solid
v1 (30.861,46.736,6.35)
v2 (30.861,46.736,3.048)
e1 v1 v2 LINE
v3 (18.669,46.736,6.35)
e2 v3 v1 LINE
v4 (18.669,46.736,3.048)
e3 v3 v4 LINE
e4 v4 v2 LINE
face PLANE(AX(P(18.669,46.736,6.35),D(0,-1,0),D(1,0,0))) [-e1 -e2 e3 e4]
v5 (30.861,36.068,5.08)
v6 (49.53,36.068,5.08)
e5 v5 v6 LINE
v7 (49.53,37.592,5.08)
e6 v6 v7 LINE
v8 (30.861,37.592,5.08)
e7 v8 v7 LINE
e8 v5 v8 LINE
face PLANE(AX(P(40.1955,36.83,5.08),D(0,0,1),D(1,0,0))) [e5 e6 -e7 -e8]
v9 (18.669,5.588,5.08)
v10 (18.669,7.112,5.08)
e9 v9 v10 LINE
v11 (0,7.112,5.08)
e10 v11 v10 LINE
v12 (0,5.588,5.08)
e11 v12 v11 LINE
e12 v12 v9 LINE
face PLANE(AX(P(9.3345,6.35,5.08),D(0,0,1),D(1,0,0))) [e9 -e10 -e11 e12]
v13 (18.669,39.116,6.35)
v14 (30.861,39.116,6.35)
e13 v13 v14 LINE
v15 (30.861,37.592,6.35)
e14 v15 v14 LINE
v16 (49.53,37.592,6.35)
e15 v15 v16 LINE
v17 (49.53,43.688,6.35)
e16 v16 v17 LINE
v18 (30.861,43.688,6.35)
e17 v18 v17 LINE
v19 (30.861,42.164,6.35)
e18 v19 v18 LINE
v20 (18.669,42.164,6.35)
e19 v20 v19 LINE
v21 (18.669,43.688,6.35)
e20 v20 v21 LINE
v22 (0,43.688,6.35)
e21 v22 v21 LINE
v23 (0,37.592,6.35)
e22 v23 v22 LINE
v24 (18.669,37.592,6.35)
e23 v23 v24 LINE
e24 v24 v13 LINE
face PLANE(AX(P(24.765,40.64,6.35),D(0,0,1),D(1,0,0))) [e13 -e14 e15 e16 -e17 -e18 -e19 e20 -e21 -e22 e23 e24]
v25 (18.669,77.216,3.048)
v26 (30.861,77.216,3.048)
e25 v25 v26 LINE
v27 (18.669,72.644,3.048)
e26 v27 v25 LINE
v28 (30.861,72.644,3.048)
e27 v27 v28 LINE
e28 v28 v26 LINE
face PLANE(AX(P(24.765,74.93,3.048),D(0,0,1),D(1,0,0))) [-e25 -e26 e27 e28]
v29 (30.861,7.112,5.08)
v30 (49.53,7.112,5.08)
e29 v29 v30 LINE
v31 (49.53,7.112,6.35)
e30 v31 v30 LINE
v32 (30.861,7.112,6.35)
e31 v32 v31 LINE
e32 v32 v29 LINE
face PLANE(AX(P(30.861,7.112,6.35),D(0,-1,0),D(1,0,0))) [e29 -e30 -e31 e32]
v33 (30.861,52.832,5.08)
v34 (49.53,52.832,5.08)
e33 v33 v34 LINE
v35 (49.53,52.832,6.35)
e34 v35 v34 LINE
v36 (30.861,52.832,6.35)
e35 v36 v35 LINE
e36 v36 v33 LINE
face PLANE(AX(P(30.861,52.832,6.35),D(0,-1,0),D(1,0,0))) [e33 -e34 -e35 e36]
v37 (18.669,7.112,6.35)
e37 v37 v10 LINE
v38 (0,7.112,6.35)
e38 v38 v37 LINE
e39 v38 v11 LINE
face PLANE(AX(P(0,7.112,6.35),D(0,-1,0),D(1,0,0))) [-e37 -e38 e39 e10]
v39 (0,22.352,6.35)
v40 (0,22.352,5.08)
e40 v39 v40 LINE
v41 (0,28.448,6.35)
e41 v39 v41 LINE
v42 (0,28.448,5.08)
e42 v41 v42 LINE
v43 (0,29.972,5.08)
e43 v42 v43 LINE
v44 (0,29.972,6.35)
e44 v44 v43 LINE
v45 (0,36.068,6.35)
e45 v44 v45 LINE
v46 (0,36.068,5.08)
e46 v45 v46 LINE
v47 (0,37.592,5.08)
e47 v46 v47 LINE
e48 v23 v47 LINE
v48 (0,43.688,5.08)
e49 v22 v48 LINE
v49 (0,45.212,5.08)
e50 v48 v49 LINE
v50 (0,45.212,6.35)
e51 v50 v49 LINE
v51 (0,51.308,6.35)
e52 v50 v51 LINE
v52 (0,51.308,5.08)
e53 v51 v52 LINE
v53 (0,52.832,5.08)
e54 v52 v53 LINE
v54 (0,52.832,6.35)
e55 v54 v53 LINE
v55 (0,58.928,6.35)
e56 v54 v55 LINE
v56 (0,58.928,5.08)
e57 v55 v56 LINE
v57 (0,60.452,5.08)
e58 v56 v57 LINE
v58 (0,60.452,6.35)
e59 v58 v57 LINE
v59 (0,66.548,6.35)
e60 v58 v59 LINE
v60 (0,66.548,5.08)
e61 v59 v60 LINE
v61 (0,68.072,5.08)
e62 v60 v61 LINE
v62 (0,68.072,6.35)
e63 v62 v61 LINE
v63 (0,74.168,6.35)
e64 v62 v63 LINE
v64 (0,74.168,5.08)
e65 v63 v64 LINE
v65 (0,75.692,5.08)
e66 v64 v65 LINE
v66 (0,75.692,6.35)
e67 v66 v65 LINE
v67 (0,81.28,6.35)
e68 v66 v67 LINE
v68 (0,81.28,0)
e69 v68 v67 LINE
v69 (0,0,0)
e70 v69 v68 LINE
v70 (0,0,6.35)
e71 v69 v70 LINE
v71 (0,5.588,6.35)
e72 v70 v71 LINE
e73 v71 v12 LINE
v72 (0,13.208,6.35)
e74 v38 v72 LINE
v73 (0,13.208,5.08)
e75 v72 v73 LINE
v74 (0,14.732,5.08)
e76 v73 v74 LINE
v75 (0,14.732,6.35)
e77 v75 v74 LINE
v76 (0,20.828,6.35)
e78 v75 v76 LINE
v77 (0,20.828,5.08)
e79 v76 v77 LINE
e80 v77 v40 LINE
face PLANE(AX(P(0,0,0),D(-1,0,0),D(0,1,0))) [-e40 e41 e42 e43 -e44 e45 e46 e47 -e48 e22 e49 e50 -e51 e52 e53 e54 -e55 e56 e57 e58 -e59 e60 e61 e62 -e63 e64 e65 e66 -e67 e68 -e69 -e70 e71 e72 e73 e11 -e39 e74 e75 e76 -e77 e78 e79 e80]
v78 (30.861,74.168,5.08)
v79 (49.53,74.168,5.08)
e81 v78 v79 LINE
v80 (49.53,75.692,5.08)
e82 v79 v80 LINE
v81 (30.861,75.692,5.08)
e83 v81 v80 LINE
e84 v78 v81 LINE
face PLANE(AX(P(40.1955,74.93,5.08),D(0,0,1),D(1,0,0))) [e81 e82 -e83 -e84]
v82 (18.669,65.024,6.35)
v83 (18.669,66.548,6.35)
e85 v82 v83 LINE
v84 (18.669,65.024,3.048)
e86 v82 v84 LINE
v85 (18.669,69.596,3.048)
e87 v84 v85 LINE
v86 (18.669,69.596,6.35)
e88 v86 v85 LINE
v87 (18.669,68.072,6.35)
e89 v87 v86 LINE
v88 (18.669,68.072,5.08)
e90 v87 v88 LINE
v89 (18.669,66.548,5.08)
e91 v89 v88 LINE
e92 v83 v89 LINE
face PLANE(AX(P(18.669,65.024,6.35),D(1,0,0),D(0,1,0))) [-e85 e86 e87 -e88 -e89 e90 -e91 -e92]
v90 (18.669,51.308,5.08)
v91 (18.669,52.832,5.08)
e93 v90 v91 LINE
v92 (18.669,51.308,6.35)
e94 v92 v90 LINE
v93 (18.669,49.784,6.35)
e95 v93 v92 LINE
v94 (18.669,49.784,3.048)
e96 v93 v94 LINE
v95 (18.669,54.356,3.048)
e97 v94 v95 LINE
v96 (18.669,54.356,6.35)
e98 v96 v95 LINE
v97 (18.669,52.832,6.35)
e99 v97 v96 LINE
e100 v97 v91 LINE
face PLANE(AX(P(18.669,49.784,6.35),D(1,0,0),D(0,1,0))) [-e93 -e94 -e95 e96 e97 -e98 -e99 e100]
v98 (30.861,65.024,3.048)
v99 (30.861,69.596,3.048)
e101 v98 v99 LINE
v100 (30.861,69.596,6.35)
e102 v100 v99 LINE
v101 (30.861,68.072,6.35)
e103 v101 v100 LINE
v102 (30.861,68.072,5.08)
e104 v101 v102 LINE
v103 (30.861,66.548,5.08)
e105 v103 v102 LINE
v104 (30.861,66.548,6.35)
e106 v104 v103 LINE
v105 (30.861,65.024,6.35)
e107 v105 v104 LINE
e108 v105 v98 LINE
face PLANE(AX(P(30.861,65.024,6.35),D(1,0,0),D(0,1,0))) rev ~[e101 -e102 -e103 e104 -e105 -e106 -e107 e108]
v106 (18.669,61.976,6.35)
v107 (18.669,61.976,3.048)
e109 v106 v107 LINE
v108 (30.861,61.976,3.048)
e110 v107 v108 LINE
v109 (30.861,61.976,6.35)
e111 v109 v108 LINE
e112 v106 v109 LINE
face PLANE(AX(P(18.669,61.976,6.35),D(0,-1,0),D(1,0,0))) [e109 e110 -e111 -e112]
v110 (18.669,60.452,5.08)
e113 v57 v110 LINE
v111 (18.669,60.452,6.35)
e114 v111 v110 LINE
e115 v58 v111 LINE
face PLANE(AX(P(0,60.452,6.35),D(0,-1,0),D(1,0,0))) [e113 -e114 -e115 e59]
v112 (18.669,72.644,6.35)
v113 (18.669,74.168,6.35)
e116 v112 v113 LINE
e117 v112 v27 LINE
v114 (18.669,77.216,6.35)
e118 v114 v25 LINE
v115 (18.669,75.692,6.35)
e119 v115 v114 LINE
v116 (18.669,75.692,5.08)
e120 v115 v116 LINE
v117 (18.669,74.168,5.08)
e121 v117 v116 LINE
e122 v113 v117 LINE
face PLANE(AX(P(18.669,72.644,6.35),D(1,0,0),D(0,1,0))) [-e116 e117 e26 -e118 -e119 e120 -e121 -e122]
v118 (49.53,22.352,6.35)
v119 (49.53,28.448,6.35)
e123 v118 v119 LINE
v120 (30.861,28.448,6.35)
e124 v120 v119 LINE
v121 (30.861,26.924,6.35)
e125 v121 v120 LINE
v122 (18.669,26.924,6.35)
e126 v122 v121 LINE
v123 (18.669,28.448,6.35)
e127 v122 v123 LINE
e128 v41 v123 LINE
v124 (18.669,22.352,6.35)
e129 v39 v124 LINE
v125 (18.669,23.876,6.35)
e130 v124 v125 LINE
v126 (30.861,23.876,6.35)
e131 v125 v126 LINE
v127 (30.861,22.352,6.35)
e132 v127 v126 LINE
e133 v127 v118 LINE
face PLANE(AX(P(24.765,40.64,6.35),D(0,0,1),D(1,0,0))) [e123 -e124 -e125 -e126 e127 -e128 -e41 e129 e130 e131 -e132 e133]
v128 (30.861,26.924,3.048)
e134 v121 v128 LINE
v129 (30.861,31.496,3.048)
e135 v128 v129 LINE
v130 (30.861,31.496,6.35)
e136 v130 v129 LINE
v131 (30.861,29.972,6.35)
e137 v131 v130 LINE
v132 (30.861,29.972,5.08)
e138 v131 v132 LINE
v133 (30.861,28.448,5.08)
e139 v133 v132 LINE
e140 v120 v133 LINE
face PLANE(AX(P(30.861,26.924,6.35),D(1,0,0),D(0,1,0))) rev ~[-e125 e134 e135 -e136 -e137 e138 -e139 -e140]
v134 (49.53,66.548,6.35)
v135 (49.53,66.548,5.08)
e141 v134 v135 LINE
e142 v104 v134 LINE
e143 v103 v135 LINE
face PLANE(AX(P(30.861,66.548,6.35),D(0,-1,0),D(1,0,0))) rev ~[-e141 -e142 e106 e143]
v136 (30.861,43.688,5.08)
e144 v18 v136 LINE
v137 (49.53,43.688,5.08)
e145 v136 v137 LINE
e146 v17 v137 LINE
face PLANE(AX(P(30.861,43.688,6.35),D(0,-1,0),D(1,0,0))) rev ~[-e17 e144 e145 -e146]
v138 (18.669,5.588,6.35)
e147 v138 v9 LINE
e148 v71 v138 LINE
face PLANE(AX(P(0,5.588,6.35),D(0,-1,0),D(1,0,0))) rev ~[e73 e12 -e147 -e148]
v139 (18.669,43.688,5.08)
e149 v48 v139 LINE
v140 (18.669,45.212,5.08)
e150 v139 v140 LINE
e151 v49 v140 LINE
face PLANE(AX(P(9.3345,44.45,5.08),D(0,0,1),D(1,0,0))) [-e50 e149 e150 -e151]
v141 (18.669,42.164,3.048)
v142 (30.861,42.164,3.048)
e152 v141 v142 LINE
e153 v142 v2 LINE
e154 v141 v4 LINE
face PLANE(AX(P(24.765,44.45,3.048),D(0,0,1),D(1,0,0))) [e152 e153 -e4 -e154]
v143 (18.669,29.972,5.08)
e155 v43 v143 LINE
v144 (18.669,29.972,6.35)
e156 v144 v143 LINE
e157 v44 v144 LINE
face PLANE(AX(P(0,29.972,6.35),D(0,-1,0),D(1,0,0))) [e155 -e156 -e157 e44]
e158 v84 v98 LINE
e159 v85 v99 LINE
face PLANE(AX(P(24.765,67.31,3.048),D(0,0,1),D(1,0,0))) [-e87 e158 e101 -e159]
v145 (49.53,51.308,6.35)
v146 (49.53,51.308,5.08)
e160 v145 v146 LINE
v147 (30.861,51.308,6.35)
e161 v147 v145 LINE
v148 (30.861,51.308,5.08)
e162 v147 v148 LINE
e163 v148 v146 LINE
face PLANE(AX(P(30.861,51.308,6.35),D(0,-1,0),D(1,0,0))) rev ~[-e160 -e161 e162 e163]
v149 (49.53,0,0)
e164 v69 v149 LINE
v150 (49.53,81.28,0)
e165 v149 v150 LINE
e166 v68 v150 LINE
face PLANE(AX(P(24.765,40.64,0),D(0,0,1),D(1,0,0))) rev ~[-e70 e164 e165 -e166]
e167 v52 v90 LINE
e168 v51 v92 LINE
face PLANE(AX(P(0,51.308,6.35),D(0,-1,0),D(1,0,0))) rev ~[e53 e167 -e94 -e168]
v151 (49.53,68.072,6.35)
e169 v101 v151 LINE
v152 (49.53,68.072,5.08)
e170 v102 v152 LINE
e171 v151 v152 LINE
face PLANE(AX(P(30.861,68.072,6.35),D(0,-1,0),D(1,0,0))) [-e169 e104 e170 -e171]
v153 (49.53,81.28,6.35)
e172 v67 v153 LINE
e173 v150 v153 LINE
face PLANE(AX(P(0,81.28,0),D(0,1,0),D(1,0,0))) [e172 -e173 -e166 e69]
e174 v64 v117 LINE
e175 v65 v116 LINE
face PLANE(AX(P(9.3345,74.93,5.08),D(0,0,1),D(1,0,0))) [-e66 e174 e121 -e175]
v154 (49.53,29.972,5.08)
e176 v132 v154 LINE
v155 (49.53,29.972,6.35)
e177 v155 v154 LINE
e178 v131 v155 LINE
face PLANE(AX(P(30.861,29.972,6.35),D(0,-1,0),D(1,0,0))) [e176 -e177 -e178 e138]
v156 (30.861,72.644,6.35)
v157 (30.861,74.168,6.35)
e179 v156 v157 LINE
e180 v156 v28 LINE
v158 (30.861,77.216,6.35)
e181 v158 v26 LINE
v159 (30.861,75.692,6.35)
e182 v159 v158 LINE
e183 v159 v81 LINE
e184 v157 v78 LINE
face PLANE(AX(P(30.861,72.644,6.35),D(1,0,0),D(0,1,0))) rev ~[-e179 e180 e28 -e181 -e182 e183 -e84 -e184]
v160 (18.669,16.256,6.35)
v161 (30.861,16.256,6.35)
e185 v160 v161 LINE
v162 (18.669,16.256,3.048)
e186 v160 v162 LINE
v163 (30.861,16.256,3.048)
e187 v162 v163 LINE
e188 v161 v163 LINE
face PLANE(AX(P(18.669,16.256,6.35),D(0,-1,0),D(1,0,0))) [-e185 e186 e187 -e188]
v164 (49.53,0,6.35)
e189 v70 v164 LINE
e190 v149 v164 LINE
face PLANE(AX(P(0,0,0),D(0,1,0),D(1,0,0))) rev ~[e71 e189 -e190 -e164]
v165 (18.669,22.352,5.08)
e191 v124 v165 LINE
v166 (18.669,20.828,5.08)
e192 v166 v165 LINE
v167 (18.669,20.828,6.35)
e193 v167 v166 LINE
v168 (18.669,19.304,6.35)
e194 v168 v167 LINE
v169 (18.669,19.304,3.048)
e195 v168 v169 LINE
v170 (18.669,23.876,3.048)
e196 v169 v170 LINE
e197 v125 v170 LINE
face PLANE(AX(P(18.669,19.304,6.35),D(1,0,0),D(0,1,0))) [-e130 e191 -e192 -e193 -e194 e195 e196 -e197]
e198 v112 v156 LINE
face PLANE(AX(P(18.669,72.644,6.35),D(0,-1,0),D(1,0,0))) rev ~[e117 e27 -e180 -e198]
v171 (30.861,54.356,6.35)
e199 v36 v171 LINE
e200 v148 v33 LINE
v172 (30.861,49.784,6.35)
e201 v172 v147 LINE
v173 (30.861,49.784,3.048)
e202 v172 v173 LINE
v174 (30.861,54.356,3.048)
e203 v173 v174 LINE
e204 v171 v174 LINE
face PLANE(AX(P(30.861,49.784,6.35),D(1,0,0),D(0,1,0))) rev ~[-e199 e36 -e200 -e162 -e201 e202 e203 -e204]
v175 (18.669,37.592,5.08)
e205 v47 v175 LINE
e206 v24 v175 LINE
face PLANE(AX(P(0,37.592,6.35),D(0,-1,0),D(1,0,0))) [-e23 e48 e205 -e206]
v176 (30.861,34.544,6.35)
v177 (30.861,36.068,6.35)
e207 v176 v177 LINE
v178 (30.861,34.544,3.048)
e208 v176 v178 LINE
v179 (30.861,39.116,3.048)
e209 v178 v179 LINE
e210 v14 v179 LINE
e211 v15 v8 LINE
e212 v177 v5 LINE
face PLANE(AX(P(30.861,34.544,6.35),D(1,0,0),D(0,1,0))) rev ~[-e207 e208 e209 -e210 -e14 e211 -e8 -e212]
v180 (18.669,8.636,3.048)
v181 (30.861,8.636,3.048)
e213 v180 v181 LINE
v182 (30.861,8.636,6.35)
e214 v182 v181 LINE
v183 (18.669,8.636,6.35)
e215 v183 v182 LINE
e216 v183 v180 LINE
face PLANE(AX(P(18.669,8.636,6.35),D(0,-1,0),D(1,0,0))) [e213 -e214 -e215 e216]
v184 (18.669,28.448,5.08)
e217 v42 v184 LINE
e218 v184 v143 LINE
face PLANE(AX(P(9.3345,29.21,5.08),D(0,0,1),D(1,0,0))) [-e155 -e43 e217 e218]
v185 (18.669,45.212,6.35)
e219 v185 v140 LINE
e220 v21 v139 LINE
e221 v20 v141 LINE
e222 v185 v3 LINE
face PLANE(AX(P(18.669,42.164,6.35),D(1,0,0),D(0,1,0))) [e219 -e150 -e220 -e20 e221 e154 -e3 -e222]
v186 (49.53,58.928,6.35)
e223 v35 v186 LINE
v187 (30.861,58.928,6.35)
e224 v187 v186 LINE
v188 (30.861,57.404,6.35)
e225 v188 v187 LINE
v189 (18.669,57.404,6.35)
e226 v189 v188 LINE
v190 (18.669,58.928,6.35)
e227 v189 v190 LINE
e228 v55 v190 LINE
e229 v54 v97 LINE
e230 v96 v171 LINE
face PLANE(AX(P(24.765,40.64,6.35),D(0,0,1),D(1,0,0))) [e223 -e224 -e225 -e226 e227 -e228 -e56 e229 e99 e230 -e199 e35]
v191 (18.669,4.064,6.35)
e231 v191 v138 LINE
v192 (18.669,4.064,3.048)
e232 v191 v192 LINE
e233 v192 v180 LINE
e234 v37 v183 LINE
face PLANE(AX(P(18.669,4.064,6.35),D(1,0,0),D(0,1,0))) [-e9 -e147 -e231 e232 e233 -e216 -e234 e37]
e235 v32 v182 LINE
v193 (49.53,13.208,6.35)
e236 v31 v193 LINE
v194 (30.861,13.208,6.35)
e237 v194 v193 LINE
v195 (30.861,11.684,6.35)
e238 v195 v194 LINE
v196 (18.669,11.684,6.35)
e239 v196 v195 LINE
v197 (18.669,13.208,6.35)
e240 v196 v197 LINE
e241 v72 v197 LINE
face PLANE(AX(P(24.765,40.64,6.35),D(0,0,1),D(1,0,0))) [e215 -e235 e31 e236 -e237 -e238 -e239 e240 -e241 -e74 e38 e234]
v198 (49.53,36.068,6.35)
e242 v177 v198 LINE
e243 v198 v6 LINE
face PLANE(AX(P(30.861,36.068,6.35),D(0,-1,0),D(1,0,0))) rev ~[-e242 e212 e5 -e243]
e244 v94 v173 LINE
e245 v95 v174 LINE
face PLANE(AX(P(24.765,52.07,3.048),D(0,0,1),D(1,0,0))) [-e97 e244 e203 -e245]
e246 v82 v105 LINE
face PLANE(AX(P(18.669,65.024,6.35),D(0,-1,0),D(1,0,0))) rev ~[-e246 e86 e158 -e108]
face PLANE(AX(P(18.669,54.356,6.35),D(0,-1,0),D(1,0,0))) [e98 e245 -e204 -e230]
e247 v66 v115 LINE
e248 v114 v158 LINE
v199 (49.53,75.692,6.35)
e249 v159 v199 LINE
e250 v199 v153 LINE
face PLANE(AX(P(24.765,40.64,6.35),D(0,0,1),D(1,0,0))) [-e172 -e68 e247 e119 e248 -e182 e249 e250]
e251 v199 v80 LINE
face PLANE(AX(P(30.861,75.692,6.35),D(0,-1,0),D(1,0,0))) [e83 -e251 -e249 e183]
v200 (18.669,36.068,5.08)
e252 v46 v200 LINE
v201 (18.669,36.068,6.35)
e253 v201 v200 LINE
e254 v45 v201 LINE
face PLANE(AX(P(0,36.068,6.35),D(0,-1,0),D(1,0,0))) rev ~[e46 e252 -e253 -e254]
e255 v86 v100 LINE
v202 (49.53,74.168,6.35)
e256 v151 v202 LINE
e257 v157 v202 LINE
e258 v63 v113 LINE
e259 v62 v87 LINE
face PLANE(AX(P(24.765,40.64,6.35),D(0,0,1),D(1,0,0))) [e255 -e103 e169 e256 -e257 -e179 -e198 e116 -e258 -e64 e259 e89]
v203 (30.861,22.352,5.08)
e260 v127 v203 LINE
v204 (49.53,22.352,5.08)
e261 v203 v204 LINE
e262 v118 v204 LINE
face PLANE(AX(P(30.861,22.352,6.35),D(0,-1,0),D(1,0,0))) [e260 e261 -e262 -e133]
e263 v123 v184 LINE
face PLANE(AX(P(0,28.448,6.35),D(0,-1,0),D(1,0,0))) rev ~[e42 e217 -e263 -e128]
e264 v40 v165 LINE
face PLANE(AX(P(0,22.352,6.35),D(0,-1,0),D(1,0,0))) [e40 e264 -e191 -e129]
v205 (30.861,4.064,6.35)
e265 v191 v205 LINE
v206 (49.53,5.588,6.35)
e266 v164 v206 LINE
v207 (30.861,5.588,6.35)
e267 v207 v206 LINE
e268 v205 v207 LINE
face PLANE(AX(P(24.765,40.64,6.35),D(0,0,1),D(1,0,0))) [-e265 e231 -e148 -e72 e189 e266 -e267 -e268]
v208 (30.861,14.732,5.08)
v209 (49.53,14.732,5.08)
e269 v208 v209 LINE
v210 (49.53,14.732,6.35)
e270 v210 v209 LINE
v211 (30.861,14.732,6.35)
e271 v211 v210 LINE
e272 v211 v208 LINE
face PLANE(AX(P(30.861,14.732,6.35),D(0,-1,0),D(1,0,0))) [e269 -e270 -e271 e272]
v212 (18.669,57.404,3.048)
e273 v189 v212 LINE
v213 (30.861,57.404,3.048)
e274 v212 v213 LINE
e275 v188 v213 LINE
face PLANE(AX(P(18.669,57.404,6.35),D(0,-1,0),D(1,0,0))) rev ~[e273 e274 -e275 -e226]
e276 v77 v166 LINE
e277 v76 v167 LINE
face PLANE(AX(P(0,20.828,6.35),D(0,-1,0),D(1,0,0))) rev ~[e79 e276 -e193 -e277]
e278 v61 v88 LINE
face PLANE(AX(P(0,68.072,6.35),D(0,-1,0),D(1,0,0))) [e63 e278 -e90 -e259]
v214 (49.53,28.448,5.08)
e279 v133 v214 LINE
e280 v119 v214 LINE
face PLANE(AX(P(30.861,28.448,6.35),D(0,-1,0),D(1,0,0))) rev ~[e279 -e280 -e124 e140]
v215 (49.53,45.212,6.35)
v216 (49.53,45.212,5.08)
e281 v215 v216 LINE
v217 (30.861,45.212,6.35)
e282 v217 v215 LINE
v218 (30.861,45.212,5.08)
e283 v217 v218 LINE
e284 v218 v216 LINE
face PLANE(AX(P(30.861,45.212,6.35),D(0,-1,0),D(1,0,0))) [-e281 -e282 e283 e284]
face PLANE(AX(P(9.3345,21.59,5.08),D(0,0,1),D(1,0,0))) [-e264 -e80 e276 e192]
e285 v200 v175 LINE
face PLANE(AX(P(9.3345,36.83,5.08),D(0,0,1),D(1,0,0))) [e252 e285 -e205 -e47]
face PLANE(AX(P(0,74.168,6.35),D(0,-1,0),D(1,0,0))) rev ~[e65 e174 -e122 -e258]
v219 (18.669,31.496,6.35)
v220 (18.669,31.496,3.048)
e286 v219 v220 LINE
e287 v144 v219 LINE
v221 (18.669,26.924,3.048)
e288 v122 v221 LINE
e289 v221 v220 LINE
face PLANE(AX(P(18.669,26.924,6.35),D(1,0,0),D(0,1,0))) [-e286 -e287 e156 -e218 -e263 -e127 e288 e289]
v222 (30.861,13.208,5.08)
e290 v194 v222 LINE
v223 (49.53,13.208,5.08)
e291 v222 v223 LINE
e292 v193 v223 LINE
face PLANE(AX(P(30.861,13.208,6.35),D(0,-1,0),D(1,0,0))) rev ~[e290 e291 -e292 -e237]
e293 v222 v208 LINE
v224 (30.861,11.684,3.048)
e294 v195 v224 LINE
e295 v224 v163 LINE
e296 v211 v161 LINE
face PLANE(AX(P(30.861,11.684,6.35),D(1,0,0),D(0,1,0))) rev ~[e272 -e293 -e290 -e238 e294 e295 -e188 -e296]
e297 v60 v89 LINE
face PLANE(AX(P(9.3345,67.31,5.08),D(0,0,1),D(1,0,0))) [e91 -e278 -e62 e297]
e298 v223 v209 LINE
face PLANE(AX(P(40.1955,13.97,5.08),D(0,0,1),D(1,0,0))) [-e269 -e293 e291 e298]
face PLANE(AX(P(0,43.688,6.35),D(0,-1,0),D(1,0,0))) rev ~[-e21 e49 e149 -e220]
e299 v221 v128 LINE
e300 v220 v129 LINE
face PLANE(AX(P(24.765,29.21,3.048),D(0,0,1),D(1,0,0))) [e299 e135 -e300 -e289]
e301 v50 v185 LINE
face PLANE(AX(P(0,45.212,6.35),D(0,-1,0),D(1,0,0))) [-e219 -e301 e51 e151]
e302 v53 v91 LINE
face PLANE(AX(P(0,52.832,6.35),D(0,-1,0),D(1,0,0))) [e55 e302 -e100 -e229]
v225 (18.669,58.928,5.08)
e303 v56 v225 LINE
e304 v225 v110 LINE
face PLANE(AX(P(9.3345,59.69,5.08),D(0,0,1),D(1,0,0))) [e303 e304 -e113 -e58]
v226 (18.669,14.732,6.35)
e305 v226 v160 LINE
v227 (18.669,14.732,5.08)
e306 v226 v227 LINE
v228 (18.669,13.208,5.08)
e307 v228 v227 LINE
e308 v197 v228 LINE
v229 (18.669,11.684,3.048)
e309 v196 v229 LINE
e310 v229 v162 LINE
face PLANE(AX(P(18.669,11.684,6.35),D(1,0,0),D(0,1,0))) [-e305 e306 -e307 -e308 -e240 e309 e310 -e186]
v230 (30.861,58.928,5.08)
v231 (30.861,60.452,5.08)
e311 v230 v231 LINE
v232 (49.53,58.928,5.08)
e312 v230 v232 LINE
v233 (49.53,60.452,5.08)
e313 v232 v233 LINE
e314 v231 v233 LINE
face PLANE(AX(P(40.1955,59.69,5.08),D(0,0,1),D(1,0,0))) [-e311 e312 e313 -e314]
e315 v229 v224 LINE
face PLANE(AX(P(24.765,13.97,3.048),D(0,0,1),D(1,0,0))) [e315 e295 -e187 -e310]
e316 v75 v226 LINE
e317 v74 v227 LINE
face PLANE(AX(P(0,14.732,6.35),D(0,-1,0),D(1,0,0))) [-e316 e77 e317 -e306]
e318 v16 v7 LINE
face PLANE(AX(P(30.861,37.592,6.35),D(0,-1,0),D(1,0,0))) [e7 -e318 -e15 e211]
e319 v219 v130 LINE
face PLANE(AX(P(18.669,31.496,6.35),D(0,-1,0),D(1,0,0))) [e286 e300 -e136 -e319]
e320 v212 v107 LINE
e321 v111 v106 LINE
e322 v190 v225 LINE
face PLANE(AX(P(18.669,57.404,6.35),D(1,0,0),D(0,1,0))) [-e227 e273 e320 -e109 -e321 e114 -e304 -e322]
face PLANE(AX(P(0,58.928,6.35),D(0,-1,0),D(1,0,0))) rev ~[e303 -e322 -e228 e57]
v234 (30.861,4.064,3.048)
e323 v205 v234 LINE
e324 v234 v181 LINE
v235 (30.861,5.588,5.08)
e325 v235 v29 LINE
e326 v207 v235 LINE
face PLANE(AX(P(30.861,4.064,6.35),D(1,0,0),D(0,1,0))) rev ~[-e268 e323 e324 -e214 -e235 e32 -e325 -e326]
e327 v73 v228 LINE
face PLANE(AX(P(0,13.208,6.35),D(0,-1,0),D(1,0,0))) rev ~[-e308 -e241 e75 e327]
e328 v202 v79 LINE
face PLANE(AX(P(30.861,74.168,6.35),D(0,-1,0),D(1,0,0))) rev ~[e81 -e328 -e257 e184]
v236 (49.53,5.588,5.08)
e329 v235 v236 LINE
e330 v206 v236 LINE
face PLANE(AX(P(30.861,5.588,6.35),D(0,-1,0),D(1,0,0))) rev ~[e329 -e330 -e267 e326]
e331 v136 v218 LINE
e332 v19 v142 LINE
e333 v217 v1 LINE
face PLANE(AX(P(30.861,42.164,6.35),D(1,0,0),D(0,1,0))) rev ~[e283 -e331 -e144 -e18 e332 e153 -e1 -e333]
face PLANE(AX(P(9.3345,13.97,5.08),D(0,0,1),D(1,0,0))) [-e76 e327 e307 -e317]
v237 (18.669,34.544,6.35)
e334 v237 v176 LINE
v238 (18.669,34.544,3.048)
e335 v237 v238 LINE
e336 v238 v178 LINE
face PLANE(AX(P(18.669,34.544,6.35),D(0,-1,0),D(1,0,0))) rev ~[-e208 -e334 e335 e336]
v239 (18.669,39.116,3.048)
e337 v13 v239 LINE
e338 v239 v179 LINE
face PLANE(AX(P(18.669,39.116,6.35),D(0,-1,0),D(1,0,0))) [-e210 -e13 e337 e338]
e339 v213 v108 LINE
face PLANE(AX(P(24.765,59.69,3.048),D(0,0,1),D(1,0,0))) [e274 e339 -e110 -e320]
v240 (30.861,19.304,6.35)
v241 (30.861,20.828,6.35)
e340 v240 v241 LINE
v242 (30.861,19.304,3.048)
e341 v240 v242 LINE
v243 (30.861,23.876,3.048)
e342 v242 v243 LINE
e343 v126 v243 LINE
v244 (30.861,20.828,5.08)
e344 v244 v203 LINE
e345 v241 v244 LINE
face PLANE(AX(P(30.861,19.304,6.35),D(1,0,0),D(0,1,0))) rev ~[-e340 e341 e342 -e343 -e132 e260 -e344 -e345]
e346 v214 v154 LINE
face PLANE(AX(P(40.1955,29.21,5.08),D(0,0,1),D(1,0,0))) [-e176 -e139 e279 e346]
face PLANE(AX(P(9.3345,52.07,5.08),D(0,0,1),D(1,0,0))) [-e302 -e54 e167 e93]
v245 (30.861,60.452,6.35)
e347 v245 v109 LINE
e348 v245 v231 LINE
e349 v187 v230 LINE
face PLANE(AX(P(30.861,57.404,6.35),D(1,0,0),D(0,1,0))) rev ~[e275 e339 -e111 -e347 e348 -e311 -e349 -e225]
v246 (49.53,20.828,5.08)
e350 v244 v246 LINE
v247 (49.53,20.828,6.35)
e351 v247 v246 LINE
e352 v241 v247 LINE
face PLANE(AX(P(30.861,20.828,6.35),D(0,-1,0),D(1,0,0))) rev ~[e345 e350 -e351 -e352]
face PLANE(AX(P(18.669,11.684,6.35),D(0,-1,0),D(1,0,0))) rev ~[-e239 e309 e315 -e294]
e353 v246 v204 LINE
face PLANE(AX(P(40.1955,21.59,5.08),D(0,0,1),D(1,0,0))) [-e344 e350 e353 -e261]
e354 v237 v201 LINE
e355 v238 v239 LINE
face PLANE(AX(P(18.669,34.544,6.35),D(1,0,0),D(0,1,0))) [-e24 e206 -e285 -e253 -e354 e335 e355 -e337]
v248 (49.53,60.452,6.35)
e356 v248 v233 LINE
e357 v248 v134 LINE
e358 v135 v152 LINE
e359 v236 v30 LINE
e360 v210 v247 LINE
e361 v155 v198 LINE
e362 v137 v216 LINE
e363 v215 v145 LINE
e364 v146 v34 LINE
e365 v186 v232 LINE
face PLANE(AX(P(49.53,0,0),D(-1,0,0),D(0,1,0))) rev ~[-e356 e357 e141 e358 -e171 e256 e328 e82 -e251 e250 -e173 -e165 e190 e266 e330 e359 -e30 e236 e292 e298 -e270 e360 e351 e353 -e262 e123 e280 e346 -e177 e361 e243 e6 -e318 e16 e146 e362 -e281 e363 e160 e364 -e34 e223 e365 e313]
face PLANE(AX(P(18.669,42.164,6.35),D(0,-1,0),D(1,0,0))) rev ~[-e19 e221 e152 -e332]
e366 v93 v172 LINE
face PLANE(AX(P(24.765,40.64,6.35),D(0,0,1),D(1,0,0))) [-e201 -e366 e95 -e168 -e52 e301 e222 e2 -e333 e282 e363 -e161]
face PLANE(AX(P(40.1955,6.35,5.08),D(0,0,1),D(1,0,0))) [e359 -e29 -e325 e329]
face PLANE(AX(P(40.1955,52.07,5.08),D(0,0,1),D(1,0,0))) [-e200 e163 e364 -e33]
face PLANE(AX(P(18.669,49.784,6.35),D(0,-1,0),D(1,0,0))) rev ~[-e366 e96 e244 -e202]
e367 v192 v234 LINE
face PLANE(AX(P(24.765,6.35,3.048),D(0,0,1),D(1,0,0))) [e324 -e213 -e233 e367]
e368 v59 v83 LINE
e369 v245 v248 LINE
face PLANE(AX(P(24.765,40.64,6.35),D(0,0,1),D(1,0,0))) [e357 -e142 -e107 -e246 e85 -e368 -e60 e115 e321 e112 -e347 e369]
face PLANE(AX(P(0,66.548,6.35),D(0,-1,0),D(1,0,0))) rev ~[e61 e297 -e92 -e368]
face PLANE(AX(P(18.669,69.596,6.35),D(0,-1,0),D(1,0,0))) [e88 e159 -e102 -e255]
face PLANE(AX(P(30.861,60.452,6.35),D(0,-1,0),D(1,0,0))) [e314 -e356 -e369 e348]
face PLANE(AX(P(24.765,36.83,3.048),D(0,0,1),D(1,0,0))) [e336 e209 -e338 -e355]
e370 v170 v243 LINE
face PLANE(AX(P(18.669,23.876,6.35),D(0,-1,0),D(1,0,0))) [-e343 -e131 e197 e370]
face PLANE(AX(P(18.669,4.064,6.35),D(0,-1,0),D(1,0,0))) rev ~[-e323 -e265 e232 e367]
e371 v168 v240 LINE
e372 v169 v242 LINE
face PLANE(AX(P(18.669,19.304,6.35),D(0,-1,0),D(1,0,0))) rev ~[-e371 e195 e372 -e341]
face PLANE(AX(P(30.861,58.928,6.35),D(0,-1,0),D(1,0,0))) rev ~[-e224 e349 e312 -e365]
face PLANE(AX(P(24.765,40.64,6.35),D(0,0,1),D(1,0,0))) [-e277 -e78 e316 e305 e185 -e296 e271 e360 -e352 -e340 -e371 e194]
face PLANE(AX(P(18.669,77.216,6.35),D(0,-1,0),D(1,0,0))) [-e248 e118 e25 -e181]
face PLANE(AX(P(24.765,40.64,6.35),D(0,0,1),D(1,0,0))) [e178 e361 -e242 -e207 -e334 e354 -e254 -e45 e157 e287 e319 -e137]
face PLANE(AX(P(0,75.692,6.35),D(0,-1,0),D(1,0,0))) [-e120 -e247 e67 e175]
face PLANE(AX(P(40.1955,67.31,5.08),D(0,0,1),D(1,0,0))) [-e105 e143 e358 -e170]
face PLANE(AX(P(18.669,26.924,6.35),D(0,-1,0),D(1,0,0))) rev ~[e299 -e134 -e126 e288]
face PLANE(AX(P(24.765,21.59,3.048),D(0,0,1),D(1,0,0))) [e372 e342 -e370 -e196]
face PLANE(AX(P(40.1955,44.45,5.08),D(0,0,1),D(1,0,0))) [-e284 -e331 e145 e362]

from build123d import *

# Parameters (mm, degrees)
F0_W     = 49.53
F0_H     = 81.28
F1_DEPTH = 6.35
F2_W     = 12.192
F2_H     = 4.572
F3_DEPTH = 3.302
F4_W     = 18.669
F4_H     = 1.524
F5_DEPTH = 1.27


with BuildPart() as f1:
    # F0 (on Top) → F1 (new body)
    with BuildSketch(Plane.XY):
        with Locations((24.765, 40.64)):
            Rectangle(F0_W, F0_H)
    extrude(amount=F1_DEPTH)

    # F2 (on face) → F3 (cut)
    with BuildSketch(Plane.XY.offset(6.35)):
        with Locations((24.765, 6.35)):
            Rectangle(F2_W, F2_H)
        with Locations((24.765, 13.97)):
            Rectangle(F2_W, F2_H)
        with Locations((24.765, 21.59)):
            Rectangle(F2_W, F2_H)
        with Locations((24.765, 29.21)):
            Rectangle(F2_W, F2_H)
        with Locations((24.765, 36.83)):
            Rectangle(F2_W, F2_H)
        with Locations((24.765, 44.45)):
            Rectangle(F2_W, F2_H)
        with Locations((24.765, 52.07)):
            Rectangle(F2_W, F2_H)
        with Locations((24.765, 59.69)):
            Rectangle(F2_W, F2_H)
        with Locations((24.765, 67.31)):
            Rectangle(F2_W, F2_H)
        with Locations((24.765, 74.93)):
            Rectangle(F2_W, F2_H)
    extrude(amount=-F3_DEPTH, mode=Mode.SUBTRACT)

    # F4 (on face) → F5 (cut)
    with BuildSketch(Plane.XY.offset(6.35)):
        with Locations((40.1955, 6.35)):
            Rectangle(F4_W, F4_H)
        with Locations((9.3345, 6.35)):
            Rectangle(F4_W, F4_H)
        with Locations((9.3345, 13.97)):
            Rectangle(F4_W, F4_H)
        with Locations((40.1955, 13.97)):
            Rectangle(F4_W, F4_H)
        with Locations((9.3345, 21.59)):
            Rectangle(F4_W, F4_H)
        with Locations((40.1955, 21.59)):
            Rectangle(F4_W, F4_H)
        with Locations((9.3345, 29.21)):
            Rectangle(F4_W, F4_H)
        with Locations((40.1955, 29.21)):
            Rectangle(F4_W, F4_H)
        with Locations((9.3345, 36.83)):
            Rectangle(F4_W, F4_H)
        with Locations((40.1955, 36.83)):
            Rectangle(F4_W, F4_H)
        with Locations((9.3345, 44.45)):
            Rectangle(F4_W, F4_H)
        with Locations((40.1955, 44.45)):
            Rectangle(F4_W, F4_H)
        with Locations((9.3345, 52.07)):
            Rectangle(F4_W, F4_H)
        with Locations((40.1955, 52.07)):
            Rectangle(F4_W, F4_H)
        with Locations((9.3345, 59.69)):
            Rectangle(F4_W, F4_H)
        with Locations((40.1955, 59.69)):
            Rectangle(F4_W, F4_H)
        with Locations((9.3345, 67.31)):
            Rectangle(F4_W, F4_H)
        with Locations((40.1955, 67.31)):
            Rectangle(F4_W, F4_H)
        with Locations((9.3345, 74.93)):
            Rectangle(F4_W, F4_H)
        with Locations((40.1955, 74.93)):
            Rectangle(F4_W, F4_H)
    extrude(amount=-F5_DEPTH, mode=Mode.SUBTRACT)


solid = f1.part
